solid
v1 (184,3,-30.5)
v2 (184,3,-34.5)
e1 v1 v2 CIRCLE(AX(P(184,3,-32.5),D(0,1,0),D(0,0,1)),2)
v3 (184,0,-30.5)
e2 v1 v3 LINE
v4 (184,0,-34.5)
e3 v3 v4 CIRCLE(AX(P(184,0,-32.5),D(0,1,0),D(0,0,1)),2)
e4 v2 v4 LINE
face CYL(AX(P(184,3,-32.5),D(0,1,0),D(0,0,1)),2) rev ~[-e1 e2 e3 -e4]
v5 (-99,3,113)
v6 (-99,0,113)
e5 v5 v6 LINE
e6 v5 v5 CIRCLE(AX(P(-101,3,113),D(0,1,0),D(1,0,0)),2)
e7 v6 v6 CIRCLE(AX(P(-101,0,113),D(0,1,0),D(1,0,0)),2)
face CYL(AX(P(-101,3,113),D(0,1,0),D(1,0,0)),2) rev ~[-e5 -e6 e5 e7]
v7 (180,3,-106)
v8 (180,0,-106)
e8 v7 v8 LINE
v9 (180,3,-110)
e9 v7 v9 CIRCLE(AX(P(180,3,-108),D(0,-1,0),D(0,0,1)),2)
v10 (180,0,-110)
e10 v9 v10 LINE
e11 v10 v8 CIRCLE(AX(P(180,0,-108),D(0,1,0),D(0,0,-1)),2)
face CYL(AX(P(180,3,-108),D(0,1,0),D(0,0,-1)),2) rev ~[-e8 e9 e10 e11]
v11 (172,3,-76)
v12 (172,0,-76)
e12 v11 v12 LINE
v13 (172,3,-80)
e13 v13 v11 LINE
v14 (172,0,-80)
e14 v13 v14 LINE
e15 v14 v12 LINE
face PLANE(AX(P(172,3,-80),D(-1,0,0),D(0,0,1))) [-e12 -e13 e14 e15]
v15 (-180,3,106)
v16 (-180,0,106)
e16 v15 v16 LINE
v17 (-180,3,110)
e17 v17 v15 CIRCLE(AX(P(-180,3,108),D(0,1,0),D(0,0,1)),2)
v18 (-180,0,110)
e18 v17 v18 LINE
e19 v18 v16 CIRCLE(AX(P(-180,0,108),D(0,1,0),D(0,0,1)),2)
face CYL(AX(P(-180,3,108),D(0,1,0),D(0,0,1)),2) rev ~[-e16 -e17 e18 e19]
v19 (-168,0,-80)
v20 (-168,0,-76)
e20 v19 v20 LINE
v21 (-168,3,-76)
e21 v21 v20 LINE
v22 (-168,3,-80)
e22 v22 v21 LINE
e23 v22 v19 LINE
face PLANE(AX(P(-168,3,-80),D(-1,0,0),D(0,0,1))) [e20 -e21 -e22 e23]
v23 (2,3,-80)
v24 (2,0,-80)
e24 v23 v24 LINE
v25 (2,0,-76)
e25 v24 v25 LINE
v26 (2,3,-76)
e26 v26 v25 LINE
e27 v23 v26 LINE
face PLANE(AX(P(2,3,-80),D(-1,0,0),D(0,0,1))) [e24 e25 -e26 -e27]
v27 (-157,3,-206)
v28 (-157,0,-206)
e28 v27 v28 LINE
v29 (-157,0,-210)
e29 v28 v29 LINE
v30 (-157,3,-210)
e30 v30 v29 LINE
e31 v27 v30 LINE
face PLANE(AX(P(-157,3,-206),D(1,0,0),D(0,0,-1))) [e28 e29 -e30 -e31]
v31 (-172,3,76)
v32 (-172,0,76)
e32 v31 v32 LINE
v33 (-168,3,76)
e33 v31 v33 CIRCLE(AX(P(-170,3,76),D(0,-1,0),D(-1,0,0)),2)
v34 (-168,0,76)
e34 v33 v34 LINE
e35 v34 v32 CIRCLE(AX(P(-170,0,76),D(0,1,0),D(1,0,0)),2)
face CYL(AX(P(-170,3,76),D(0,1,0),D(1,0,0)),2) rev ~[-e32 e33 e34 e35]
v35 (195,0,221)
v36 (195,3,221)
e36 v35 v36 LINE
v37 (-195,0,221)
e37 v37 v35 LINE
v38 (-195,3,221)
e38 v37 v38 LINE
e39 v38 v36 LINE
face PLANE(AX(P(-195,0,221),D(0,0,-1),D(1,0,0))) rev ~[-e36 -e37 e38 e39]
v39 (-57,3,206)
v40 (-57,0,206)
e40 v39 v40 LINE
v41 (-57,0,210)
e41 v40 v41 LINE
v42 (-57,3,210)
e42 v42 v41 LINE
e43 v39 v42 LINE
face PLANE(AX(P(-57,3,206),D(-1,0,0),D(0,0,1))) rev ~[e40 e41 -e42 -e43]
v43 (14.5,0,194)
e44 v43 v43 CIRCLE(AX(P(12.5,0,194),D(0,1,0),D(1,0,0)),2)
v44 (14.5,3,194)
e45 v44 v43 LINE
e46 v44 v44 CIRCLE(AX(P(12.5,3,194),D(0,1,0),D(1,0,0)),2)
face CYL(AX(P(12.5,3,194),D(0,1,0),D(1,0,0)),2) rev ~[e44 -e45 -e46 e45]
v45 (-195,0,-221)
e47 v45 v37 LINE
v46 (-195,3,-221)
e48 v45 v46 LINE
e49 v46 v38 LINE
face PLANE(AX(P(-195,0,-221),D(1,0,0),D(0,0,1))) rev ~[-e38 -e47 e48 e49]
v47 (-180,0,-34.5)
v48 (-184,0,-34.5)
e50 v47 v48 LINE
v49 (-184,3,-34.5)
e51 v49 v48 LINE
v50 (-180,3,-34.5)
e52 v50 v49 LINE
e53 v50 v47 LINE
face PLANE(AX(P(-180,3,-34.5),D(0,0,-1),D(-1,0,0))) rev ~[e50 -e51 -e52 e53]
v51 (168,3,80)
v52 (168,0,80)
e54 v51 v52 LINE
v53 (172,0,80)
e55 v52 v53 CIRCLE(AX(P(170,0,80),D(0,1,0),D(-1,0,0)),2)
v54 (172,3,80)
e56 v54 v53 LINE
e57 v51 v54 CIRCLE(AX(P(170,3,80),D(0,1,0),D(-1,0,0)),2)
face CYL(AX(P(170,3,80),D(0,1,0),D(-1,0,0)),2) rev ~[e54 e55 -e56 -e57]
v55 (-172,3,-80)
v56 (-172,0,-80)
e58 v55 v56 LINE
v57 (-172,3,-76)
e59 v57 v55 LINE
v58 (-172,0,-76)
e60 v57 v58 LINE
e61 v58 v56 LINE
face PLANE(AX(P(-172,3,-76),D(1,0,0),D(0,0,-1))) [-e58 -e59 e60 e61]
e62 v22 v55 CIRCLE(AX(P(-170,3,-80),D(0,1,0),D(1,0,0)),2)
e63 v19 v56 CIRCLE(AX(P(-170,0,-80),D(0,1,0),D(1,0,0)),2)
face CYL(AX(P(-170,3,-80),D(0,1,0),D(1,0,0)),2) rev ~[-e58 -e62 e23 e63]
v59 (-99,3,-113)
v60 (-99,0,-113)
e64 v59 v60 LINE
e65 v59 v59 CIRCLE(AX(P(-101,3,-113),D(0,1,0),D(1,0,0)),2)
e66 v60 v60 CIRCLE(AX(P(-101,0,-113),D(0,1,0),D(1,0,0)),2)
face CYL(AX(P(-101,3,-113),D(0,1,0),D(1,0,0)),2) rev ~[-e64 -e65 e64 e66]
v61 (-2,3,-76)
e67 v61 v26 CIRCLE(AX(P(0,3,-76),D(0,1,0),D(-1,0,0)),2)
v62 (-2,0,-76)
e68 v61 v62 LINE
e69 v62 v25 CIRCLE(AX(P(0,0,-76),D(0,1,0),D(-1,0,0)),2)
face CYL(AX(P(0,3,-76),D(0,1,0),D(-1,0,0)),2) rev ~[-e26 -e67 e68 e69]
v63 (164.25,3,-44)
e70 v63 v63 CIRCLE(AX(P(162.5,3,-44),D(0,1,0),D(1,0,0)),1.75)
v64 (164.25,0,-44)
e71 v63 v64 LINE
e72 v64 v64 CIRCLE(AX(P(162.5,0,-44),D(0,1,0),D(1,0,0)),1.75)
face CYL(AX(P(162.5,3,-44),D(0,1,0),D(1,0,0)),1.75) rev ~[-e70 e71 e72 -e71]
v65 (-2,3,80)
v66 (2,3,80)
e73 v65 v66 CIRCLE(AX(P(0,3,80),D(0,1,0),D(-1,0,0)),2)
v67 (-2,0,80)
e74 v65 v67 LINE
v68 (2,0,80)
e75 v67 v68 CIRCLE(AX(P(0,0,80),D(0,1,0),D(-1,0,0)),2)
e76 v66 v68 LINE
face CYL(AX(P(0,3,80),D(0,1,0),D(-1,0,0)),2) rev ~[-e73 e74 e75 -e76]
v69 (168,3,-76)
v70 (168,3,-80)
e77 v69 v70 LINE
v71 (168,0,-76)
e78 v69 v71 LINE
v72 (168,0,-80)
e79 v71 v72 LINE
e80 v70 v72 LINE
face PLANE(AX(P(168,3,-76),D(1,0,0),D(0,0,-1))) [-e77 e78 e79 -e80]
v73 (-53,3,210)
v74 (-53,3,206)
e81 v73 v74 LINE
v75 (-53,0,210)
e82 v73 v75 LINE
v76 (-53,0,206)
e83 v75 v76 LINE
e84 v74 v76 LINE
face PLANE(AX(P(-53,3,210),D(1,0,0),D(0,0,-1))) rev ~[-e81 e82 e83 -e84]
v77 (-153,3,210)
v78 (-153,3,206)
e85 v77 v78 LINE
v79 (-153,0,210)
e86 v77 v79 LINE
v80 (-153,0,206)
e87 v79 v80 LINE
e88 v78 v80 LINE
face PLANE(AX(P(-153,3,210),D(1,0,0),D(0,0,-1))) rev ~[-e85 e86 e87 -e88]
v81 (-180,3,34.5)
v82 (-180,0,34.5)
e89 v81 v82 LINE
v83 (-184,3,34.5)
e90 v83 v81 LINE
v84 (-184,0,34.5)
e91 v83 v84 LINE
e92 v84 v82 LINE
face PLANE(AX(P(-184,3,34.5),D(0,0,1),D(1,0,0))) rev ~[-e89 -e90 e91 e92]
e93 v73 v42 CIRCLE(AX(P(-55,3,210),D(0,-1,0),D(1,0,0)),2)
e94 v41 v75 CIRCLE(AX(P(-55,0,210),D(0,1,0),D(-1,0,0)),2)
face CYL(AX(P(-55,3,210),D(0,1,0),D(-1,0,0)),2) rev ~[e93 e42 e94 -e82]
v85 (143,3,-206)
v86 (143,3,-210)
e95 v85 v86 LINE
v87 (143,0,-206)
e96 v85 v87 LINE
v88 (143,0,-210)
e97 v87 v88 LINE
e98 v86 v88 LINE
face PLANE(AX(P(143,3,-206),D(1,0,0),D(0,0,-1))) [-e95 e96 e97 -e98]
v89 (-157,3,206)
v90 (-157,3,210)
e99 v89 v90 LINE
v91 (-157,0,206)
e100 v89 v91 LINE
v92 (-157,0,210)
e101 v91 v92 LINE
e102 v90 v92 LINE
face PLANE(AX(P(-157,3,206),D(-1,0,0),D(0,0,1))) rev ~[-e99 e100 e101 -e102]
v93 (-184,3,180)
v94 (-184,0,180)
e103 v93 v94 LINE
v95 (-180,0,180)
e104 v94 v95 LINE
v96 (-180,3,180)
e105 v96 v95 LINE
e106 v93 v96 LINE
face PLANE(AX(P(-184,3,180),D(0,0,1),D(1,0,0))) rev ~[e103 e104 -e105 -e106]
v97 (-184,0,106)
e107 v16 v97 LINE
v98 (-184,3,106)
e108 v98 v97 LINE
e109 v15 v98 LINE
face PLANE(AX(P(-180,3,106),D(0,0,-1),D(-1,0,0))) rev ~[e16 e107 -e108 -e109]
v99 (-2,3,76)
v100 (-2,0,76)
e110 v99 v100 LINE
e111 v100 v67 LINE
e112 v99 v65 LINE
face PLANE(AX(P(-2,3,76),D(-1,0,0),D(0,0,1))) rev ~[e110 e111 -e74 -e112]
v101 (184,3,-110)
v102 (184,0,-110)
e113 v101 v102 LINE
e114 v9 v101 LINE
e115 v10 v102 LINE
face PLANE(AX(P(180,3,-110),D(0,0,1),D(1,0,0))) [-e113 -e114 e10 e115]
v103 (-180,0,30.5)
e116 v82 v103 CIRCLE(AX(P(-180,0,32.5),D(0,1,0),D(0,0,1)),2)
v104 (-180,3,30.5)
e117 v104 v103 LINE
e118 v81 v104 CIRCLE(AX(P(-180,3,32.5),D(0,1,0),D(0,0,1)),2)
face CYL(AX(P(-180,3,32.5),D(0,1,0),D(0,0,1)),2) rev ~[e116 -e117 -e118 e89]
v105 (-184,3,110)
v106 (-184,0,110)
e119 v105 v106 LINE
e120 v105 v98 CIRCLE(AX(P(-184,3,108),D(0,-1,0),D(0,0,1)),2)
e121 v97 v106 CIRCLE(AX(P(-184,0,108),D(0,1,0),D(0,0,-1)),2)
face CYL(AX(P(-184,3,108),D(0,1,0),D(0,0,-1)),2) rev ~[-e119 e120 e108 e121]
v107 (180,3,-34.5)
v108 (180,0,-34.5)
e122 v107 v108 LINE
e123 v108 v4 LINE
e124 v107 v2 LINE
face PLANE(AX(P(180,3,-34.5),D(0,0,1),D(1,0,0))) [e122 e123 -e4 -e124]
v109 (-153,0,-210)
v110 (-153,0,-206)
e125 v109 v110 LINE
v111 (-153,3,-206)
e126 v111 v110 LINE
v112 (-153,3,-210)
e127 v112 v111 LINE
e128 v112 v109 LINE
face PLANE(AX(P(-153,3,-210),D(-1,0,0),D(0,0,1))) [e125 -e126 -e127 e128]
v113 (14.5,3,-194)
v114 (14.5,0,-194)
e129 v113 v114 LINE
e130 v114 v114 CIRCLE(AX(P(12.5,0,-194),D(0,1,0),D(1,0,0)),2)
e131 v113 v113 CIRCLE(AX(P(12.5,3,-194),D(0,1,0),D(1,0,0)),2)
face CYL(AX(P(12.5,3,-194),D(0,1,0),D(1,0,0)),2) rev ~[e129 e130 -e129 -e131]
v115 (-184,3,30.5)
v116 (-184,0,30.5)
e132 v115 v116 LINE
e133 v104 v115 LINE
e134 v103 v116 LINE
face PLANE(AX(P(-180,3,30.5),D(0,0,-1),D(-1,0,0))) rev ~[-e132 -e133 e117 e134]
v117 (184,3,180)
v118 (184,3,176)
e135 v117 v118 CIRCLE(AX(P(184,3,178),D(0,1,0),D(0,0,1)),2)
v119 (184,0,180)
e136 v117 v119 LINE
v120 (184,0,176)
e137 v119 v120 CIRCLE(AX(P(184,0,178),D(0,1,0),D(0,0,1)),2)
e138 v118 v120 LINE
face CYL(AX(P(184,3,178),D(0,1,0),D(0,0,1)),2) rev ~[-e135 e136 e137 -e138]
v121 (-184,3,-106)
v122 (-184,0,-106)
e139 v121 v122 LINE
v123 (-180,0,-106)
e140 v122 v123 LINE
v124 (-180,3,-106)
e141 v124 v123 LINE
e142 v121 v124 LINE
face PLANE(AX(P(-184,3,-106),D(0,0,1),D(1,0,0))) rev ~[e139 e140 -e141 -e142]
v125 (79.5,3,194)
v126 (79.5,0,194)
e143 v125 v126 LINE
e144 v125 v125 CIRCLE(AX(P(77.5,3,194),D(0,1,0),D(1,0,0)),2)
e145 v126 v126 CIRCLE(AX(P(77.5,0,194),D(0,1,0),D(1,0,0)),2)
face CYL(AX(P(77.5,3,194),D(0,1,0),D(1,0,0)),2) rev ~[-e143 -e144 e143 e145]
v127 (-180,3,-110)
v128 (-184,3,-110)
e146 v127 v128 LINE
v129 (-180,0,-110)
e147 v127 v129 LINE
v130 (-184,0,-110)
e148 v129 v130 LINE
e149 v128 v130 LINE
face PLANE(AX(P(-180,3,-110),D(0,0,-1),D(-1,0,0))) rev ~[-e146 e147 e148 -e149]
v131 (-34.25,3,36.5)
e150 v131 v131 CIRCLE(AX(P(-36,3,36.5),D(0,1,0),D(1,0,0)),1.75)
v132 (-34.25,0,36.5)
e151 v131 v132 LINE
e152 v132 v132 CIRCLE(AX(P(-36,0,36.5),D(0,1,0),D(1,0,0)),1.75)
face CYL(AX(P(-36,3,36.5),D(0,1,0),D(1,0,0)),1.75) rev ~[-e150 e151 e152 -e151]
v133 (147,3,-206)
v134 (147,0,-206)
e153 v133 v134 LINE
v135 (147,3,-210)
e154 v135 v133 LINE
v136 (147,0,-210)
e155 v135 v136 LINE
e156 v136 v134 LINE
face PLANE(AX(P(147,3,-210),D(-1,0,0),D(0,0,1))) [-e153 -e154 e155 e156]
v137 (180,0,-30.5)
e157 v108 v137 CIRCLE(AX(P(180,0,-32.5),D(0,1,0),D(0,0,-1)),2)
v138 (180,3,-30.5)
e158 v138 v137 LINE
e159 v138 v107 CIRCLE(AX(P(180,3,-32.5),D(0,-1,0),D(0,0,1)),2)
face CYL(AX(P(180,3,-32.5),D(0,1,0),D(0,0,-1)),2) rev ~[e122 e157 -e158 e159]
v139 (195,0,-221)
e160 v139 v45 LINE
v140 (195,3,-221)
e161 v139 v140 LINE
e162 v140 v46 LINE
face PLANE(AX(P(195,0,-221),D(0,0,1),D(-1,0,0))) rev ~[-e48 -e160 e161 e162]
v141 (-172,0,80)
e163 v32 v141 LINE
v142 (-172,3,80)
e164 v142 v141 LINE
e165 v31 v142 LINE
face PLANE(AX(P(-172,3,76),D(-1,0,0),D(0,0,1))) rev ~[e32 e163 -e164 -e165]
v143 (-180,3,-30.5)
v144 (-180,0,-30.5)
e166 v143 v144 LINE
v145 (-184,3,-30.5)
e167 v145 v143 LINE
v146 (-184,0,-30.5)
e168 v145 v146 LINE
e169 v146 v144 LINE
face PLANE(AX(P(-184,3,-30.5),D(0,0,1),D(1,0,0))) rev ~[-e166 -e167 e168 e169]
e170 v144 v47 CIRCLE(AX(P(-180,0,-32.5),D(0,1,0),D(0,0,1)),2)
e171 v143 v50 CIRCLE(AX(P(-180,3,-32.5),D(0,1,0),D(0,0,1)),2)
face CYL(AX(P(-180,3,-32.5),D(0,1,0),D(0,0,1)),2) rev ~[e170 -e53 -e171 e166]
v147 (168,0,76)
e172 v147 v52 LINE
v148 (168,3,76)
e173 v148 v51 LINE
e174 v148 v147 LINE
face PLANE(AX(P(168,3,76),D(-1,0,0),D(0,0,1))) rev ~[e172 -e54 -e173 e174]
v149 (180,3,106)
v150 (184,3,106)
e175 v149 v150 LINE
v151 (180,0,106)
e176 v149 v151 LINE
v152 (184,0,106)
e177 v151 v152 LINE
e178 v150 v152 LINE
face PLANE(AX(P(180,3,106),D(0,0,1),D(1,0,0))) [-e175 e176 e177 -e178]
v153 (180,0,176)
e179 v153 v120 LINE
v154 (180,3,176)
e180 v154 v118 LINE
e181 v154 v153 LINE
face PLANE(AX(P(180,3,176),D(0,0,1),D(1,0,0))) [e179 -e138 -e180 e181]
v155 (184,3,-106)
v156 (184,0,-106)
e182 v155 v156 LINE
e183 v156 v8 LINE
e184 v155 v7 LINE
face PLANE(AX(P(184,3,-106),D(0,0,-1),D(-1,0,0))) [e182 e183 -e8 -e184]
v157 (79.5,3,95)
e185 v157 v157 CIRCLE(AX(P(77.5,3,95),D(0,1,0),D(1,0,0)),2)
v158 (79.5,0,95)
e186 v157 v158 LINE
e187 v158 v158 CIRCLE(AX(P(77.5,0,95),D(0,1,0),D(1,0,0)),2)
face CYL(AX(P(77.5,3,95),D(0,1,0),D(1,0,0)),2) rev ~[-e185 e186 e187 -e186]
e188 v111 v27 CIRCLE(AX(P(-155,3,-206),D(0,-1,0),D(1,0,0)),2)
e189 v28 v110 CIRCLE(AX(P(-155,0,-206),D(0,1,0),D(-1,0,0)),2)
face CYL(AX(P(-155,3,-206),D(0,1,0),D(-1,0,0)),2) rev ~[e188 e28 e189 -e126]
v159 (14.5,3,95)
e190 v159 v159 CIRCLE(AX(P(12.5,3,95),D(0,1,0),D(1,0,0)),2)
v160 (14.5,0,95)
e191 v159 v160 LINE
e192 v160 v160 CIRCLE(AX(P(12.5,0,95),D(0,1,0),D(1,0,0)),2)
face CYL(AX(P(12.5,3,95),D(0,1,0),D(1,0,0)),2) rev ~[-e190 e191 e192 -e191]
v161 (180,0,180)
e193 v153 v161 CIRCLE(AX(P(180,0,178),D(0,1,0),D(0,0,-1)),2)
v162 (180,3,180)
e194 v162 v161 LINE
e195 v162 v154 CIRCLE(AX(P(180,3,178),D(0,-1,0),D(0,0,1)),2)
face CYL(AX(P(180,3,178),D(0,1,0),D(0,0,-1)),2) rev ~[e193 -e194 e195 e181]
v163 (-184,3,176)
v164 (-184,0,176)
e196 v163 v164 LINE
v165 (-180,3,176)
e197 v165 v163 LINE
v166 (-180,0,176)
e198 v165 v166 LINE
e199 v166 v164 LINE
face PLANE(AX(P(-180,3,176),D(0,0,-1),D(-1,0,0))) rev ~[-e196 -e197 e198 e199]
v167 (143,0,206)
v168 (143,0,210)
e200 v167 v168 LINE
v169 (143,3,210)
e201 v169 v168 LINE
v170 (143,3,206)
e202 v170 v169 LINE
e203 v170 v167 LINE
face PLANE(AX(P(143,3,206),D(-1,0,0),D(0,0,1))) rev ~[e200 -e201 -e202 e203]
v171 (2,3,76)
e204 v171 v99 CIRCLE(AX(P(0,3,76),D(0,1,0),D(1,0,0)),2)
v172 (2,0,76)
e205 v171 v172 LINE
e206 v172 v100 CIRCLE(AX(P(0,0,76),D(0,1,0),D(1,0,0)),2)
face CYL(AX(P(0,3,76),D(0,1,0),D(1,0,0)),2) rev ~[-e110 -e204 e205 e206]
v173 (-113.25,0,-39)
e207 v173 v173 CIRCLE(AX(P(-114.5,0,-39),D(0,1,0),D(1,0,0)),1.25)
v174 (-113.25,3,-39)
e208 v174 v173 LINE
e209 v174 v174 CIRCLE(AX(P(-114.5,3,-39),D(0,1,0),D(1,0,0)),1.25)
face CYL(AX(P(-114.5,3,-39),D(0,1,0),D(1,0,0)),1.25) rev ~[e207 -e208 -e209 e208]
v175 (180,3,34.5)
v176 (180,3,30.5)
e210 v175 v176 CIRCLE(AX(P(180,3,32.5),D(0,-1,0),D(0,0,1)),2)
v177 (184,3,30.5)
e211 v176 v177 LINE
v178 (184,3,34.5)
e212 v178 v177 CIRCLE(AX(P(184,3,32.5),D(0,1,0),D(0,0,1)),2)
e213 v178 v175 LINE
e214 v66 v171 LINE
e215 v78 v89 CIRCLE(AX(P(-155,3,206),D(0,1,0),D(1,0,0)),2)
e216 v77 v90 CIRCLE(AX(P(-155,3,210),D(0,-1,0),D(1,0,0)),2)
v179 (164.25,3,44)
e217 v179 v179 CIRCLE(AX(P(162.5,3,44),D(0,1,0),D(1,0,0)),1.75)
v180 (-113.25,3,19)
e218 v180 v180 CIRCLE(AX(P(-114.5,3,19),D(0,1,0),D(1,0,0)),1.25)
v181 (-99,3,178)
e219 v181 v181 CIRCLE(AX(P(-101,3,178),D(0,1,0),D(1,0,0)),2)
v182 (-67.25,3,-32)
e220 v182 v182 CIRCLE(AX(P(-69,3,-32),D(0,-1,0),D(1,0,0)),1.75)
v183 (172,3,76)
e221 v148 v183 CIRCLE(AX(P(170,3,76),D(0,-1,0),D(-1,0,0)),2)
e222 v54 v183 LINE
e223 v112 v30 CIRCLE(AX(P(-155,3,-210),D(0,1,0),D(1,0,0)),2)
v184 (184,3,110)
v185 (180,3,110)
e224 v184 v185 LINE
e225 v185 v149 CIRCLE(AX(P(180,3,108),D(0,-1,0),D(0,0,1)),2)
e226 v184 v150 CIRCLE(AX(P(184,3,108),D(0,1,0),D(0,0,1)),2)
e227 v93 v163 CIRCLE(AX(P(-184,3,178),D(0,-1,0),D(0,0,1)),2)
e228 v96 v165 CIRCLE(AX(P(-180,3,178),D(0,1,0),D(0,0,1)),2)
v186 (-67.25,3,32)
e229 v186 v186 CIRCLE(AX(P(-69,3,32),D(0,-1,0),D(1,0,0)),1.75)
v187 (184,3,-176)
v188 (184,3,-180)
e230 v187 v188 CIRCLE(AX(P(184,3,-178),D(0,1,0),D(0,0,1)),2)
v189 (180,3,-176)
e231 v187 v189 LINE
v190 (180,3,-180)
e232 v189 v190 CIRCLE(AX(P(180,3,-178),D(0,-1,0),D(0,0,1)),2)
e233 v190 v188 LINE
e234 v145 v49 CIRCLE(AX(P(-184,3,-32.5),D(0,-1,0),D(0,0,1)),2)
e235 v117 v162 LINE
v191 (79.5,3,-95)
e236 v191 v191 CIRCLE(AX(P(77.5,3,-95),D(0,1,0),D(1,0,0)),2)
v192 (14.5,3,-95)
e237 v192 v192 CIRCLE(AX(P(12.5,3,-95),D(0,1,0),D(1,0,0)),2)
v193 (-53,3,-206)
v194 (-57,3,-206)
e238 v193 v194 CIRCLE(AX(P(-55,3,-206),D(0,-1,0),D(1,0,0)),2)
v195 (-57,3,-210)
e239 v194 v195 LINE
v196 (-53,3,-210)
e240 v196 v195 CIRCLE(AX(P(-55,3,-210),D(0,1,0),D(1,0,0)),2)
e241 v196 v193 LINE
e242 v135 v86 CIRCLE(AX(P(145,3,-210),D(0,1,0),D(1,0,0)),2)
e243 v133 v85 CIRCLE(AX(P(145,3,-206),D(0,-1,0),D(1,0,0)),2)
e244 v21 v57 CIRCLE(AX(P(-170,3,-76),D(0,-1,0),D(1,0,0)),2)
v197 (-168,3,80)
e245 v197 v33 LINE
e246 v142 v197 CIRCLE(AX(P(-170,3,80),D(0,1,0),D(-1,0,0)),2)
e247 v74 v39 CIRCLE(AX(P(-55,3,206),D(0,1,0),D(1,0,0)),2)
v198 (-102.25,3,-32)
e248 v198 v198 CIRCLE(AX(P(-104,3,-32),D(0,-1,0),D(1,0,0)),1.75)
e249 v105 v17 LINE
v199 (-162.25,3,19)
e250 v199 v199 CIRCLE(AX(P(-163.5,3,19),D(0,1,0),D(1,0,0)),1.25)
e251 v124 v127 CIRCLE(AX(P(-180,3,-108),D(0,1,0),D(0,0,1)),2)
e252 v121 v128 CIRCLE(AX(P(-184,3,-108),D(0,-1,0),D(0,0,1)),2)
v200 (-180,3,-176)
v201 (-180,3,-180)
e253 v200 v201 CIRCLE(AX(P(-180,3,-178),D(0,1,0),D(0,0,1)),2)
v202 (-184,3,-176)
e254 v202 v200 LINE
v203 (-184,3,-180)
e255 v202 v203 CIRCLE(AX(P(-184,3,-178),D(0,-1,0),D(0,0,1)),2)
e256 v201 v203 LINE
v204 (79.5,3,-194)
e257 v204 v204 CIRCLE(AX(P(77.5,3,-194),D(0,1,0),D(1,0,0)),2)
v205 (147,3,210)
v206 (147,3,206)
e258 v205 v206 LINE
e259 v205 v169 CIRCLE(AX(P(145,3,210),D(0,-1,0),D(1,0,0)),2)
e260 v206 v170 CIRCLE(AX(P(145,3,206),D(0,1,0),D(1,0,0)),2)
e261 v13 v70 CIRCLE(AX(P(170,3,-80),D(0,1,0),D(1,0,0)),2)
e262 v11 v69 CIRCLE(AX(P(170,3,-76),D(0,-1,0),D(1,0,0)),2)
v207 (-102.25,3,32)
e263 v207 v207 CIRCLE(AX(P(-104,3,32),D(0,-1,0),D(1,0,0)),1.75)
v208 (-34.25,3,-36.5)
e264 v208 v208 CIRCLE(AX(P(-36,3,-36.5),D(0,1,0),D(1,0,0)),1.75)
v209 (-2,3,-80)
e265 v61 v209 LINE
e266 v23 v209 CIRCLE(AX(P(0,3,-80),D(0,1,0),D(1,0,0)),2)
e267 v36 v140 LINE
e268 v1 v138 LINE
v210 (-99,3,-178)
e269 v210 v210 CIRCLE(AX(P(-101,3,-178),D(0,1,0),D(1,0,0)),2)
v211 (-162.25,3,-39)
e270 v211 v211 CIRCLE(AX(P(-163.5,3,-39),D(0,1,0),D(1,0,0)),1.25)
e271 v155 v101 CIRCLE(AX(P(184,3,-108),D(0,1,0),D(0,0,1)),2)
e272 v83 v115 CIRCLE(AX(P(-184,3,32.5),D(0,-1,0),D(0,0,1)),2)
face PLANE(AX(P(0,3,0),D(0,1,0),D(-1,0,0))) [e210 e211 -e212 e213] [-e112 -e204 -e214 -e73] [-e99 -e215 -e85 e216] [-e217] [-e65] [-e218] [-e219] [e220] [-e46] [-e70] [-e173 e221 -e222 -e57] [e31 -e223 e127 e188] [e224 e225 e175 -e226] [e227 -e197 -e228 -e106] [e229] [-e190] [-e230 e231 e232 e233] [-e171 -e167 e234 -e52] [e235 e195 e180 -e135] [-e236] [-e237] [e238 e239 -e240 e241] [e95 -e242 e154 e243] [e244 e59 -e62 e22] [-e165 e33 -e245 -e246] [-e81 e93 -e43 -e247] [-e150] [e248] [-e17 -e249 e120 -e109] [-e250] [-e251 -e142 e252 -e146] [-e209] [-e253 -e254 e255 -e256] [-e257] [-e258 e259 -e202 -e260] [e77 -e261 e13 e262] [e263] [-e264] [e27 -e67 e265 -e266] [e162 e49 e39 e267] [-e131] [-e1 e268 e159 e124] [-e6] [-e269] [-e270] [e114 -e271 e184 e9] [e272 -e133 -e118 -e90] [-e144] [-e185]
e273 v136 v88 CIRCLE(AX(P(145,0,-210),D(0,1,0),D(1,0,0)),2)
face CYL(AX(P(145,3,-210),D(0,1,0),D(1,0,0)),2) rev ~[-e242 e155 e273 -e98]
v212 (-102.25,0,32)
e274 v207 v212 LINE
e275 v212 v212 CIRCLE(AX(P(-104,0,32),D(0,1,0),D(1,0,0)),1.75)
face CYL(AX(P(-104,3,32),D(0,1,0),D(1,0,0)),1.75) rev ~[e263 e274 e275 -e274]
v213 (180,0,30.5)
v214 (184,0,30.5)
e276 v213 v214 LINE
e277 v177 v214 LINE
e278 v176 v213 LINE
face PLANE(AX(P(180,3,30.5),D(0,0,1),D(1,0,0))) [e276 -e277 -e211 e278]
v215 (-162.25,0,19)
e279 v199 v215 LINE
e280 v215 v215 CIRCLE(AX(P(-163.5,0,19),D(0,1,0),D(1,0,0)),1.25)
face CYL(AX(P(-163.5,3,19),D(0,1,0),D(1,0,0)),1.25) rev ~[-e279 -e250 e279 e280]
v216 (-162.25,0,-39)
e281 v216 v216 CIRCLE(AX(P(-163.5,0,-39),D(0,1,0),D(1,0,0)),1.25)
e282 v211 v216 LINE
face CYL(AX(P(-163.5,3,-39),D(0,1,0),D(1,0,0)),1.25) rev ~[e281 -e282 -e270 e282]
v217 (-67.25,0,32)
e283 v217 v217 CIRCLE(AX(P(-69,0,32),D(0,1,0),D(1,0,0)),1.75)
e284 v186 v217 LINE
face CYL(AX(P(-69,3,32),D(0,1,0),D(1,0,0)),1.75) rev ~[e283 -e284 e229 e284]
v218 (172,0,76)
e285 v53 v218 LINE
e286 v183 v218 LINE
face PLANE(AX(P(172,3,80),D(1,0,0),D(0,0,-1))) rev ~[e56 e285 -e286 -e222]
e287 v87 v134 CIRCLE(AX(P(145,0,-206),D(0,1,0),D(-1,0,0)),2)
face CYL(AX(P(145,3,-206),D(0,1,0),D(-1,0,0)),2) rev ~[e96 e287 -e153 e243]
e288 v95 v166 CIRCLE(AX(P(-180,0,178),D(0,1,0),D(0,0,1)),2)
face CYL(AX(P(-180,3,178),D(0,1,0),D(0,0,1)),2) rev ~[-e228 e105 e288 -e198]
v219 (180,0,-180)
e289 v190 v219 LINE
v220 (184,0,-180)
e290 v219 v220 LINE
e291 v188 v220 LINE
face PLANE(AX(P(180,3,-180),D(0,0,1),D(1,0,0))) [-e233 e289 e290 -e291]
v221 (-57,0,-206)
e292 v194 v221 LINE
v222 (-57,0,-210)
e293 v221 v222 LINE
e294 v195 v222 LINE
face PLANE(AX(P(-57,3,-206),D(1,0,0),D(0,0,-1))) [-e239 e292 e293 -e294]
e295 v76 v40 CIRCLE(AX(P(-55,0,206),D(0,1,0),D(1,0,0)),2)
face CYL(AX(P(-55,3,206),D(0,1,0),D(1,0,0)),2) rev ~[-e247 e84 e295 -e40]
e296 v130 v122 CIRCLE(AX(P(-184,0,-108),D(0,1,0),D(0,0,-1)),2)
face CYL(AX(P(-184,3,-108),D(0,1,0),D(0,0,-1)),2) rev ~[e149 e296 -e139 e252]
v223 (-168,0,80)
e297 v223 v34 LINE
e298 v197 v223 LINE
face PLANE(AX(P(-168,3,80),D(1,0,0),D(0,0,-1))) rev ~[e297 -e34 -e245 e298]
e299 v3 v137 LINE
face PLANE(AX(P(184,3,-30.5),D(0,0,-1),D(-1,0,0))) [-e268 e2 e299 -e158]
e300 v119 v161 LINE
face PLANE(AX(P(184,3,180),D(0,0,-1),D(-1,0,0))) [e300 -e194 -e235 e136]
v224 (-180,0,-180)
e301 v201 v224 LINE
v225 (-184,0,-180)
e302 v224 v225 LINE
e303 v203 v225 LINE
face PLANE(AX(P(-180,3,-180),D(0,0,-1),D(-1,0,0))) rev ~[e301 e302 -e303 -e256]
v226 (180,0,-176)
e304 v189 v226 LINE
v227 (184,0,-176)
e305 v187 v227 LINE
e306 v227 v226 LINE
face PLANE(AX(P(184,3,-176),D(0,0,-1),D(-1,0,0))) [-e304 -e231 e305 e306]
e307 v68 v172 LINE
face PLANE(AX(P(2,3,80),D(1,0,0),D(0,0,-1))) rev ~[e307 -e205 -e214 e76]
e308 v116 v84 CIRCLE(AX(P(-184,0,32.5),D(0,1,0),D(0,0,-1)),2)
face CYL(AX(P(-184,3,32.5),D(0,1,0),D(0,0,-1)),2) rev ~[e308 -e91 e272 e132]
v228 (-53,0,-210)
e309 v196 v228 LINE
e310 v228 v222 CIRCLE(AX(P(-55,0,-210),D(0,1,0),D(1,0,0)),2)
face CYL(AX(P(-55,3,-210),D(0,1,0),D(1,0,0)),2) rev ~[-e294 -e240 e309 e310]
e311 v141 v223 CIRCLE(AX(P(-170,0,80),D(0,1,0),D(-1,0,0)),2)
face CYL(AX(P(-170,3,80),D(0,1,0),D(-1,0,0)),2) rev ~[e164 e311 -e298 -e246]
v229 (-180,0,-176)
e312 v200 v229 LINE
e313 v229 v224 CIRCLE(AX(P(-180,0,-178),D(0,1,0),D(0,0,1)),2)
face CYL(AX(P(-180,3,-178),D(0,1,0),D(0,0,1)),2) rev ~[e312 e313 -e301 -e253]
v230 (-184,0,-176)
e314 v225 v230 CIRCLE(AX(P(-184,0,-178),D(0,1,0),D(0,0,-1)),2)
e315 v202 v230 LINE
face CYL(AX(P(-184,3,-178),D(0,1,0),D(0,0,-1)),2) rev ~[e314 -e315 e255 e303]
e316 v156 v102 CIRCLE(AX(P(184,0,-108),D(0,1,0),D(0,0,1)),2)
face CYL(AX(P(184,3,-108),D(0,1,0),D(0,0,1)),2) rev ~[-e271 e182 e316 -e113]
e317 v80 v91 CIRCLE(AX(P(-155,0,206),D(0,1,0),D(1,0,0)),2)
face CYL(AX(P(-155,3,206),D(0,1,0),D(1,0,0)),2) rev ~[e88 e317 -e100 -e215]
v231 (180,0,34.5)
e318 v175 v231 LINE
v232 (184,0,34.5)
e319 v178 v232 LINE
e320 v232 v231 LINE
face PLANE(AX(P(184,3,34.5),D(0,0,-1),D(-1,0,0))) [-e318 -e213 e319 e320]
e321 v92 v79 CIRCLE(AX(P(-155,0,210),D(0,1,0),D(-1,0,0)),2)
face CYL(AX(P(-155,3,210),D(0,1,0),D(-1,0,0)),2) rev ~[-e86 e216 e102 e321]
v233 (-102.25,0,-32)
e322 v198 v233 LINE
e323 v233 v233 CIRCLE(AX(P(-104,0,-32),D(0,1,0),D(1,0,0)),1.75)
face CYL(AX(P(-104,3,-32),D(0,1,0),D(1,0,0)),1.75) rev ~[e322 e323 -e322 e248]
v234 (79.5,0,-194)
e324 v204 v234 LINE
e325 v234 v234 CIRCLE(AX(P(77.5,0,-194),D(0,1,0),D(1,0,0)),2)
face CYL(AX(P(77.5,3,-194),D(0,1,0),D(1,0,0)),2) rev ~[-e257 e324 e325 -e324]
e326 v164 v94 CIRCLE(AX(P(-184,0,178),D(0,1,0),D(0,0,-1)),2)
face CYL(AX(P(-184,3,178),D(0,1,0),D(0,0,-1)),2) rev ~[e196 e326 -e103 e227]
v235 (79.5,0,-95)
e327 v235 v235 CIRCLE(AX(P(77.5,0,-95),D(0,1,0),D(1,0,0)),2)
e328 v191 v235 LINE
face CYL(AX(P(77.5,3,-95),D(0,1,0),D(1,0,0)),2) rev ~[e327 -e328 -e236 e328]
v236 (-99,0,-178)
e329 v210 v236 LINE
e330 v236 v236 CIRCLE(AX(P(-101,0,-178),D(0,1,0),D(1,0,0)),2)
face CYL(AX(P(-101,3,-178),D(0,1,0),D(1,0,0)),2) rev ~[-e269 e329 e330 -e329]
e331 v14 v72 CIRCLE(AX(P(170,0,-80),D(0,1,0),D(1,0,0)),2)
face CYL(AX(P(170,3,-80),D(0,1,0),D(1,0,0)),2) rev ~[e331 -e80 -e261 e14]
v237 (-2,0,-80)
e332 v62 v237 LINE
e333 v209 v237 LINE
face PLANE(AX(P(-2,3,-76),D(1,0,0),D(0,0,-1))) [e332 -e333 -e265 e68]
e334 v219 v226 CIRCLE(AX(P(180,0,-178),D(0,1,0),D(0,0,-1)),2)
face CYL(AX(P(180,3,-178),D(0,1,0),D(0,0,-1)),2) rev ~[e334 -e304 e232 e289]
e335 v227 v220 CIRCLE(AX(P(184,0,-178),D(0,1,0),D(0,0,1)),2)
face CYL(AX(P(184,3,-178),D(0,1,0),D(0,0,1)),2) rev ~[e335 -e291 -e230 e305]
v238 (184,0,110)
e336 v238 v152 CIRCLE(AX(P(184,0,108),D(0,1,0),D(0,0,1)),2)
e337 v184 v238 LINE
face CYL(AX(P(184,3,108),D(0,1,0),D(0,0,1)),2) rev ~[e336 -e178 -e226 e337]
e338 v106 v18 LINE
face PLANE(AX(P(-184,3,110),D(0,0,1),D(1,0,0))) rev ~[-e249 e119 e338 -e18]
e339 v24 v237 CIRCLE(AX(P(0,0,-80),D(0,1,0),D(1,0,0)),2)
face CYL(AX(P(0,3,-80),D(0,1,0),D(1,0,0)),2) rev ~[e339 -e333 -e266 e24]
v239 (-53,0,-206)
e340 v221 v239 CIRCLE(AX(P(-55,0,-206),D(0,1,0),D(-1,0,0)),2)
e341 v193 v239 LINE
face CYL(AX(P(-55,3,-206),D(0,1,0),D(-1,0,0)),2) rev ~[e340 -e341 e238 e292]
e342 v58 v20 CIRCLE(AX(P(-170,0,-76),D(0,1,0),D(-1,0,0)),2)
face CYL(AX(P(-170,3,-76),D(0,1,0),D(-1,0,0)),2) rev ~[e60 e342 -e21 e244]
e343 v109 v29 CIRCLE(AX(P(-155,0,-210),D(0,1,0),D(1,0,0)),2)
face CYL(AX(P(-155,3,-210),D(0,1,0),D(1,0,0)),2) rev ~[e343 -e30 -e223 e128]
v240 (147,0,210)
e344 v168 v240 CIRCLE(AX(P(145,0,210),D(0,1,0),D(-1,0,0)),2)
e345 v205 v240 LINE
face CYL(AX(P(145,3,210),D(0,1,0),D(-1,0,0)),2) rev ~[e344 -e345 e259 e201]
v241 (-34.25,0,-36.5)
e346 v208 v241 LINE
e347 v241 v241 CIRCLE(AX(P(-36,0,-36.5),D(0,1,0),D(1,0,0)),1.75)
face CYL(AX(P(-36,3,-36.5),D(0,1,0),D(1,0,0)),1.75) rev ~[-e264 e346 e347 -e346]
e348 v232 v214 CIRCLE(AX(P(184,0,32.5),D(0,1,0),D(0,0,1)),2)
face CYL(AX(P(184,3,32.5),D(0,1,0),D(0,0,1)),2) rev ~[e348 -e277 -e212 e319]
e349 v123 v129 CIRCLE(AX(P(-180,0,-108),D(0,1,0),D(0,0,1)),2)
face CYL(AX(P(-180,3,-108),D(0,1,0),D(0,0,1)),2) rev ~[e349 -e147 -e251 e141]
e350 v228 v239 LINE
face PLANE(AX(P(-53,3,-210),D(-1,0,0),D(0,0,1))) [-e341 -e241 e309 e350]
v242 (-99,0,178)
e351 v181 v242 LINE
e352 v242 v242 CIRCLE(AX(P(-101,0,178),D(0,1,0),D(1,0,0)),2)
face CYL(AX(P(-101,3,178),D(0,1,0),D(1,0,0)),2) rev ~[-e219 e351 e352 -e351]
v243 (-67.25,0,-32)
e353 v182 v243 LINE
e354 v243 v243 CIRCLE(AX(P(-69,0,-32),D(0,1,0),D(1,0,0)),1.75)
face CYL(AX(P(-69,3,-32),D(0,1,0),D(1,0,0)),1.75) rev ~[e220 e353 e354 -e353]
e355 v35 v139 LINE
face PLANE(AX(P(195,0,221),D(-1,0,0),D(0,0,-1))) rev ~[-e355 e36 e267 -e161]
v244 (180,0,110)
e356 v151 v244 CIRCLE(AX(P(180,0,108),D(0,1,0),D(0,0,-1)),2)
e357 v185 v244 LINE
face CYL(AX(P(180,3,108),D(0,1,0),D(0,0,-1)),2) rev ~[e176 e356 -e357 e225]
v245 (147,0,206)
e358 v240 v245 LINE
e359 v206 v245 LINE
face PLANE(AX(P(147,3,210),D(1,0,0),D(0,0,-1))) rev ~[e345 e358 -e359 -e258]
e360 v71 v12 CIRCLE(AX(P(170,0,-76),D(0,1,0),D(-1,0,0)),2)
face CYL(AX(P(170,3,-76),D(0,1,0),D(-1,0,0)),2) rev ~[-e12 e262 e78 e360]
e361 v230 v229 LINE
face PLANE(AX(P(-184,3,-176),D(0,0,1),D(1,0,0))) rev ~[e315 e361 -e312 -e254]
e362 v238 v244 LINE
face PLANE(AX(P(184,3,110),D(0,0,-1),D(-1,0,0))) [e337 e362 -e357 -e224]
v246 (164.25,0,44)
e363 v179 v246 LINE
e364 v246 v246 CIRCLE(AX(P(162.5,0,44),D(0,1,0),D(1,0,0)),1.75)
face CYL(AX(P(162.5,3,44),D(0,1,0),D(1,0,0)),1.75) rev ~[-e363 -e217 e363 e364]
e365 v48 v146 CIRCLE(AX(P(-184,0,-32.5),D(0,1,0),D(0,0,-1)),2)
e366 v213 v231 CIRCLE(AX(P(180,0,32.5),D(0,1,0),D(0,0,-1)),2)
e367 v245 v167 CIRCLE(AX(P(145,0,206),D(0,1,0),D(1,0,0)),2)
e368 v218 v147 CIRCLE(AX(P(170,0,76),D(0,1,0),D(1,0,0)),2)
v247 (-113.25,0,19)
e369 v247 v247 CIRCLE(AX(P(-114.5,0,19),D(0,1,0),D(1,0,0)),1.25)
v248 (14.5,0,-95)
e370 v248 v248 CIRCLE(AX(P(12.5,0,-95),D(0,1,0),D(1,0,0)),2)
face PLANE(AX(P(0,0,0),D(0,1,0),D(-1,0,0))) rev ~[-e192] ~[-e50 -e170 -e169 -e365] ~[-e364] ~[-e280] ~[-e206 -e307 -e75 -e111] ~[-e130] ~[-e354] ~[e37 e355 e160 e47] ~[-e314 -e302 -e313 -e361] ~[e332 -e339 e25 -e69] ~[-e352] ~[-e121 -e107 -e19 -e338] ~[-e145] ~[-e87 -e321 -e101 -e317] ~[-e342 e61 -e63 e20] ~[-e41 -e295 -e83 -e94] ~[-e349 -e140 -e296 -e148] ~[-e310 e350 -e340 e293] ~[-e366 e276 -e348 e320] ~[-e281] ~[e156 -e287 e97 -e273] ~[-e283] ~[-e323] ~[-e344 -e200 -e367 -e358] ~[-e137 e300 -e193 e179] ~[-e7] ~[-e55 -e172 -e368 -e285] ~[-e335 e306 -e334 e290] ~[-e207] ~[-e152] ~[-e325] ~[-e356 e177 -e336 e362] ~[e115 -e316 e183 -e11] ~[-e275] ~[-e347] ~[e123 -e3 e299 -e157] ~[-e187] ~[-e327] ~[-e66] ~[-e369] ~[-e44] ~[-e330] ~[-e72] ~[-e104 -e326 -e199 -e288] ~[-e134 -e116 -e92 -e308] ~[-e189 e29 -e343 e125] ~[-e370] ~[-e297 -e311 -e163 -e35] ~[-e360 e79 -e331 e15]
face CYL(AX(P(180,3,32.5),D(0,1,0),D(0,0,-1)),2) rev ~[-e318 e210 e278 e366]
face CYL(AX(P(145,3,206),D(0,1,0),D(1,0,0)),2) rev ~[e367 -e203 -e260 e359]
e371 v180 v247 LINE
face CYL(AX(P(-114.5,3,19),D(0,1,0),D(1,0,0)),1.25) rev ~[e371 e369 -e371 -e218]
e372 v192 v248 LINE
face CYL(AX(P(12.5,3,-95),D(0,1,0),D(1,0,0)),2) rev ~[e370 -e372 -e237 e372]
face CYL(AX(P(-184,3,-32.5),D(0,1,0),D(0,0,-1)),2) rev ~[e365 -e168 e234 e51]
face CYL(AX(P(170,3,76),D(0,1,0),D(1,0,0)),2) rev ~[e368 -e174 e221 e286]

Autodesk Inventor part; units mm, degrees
ref_plane "YZ Plane" through (0, 0, 0) normal (1, 0, 0) x (0, 1, 0)
ref_plane "XZ Plane" through (0, 0, 0) normal (0, 1, 0) x (-1, 0, 0)
ref_plane "XY Plane" through (0, 0, 0) normal (0, 0, 1) x (1, 0, 0)
sketch "스케치1" plane through (0, 0, 0) normal (0, 1, 0) x (-1, 0, 0)
  line L0 (195, 221) -> (-195, 221)
  line L1 (-195, 221) -> (-195, -221)
  line L2 (-195, -221) -> (195, -221)
  line L3 (195, -221) -> (195, 221)
  line L4 (195, 221) -> (-195, -221) construction
  line L5 (-195, 221) -> (195, -221) construction
  point P0 (0, 0)
  dimension "d0" = 390
  dimension "d1" = 442
extrude "돌출1" add sketch "스케치1" along normal blind 3
sketch "스케치4" plane through (0, 3, 0) normal (0, 1, 0) x (1, 0, 0)
  point P0 (0, 0)
sketch "스케치6" plane through (0, 3, 0) normal (0, 1, 0) x (1, 0, 0)
  line L0 (-303.9011, -178) -> (268.2048, -178)
  line L1 (-303.9011, 178) -> (283.641, 178)
  line L2 (-303.9011, 108) -> (283.641, 108)
  line L3 (-303.9011, -108) -> (268.2048, -108)
  line L4 (-155, -274.9581) -> (-155, 335.7384)
  line L5 (-55, -274.9581) -> (-55, 335.7384)
  line L6 (145, -274.9581) -> (145, 335.7384)
  line L7 (195, -221) -> (195, 221) projected
  line L8 (-195, 221) -> (-195, -221) projected
  line L9 (-195, -221) -> (195, -221) projected
  line L10 (195, 221) -> (-195, 221) projected
  line L11 (0, -22.8976) -> (0, 39.0777)
  line L12 (-29.975, 0) -> (33.4089, 0)
  line L13 (-184, 178) -> (-180, 178) construction
  line L14 (-184, 176) -> (-180, 176)
  line L15 (-180, 180) -> (-184, 180)
  arc A0 (-184, 180) -> (-184, 176) centre (-184, 178) ccw
  arc A1 (-180, 176) -> (-180, 180) centre (-180, 178) ccw
  line L16 (-184, 108) -> (-180, 108) construction
  line L17 (-184, 106) -> (-180, 106)
  line L18 (-180, 110) -> (-184, 110)
  arc A2 (-184, 110) -> (-184, 106) centre (-184, 108) ccw
  arc A3 (-180, 106) -> (-180, 110) centre (-180, 108) ccw
  line L19 (-184, -108) -> (-180, -108) construction
  line L20 (-184, -110) -> (-180, -110)
  line L21 (-180, -106) -> (-184, -106)
  arc A4 (-184, -106) -> (-184, -110) centre (-184, -108) ccw
  arc A5 (-180, -110) -> (-180, -106) centre (-180, -108) ccw
  line L22 (-184, -178) -> (-180, -178) construction
  line L23 (-184, -180) -> (-180, -180)
  line L24 (-180, -176) -> (-184, -176)
  arc A6 (-184, -176) -> (-184, -180) centre (-184, -178) ccw
  arc A7 (-180, -180) -> (-180, -176) centre (-180, -178) ccw
  line L25 (303.9011, -178) -> (-268.2048, -178)
  line L26 (303.9011, 178) -> (-283.641, 178)
  line L27 (303.9011, 108) -> (-283.641, 108)
  line L28 (303.9011, -108) -> (-268.2048, -108)
  line L29 (184, 178) -> (180, 178) construction
  line L30 (184, 176) -> (180, 176)
  line L31 (180, 180) -> (184, 180)
  arc A8 (184, 176) -> (184, 180) centre (184, 178) ccw
  arc A9 (180, 180) -> (180, 176) centre (180, 178) ccw
  line L32 (184, 108) -> (180, 108) construction
  line L33 (184, 106) -> (180, 106)
  line L34 (180, 110) -> (184, 110)
  arc A10 (184, 106) -> (184, 110) centre (184, 108) ccw
  arc A11 (180, 110) -> (180, 106) centre (180, 108) ccw
  line L35 (184, -108) -> (180, -108) construction
  line L36 (184, -110) -> (180, -110)
  line L37 (180, -106) -> (184, -106)
  arc A12 (184, -110) -> (184, -106) centre (184, -108) ccw
  arc A13 (180, -106) -> (180, -110) centre (180, -108) ccw
  line L38 (184, -178) -> (180, -178) construction
  line L39 (184, -180) -> (180, -180)
  line L40 (180, -176) -> (184, -176)
  arc A14 (184, -180) -> (184, -176) centre (184, -178) ccw
  arc A15 (180, -176) -> (180, -180) centre (180, -178) ccw
  line L41 (-155, -210) -> (-155, -206) construction
  line L42 (-153, -210) -> (-153, -206)
  line L43 (-157, -206) -> (-157, -210)
  arc A16 (-157, -210) -> (-153, -210) centre (-155, -210) ccw
  arc A17 (-153, -206) -> (-157, -206) centre (-155, -206) ccw
  line L44 (-55, -210) -> (-55, -206) construction
  line L45 (-53, -210) -> (-53, -206)
  line L46 (-57, -206) -> (-57, -210)
  arc A18 (-57, -210) -> (-53, -210) centre (-55, -210) ccw
  arc A19 (-53, -206) -> (-57, -206) centre (-55, -206) ccw
  line L47 (145, -210) -> (145, -206) construction
  line L48 (147, -210) -> (147, -206)
  line L49 (143, -206) -> (143, -210)
  arc A20 (143, -210) -> (147, -210) centre (145, -210) ccw
  arc A21 (147, -206) -> (143, -206) centre (145, -206) ccw
  line L50 (-155, 210) -> (-155, 206) construction
  line L51 (-153, 210) -> (-153, 206)
  line L52 (-157, 206) -> (-157, 210)
  arc A22 (-153, 210) -> (-157, 210) centre (-155, 210) ccw
  arc A23 (-157, 206) -> (-153, 206) centre (-155, 206) ccw
  line L53 (-55, 210) -> (-55, 206) construction
  line L54 (-53, 210) -> (-53, 206)
  line L55 (-57, 206) -> (-57, 210)
  arc A24 (-53, 210) -> (-57, 210) centre (-55, 210) ccw
  arc A25 (-57, 206) -> (-53, 206) centre (-55, 206) ccw
  line L56 (145, 210) -> (145, 206) construction
  line L57 (147, 210) -> (147, 206)
  line L58 (143, 206) -> (143, 210)
  arc A26 (147, 210) -> (143, 210) centre (145, 210) ccw
  arc A27 (143, 206) -> (147, 206) centre (145, 206) ccw
  line L59 (-273.1741, -32.5) -> (240.0899, -32.5)
  line L60 (-257.0626, 32.5) -> (240.0899, 32.5)
  line L61 (-184, -32.5) -> (-180, -32.5) construction
  line L62 (-184, -34.5) -> (-180, -34.5)
  line L63 (-180, -30.5) -> (-184, -30.5)
  arc A28 (-184, -30.5) -> (-184, -34.5) centre (-184, -32.5) ccw
  arc A29 (-180, -34.5) -> (-180, -30.5) centre (-180, -32.5) ccw
  line L64 (-184, 32.5) -> (-180, 32.5) construction
  line L65 (-184, 30.5) -> (-180, 30.5)
  line L66 (-180, 34.5) -> (-184, 34.5)
  arc A30 (-184, 34.5) -> (-184, 30.5) centre (-184, 32.5) ccw
  arc A31 (-180, 30.5) -> (-180, 34.5) centre (-180, 32.5) ccw
  line L67 (273.1741, -32.5) -> (-240.0899, -32.5)
  line L68 (257.0626, 32.5) -> (-240.0899, 32.5)
  line L69 (184, -32.5) -> (180, -32.5) construction
  line L70 (184, -34.5) -> (180, -34.5)
  line L71 (180, -30.5) -> (184, -30.5)
  arc A32 (184, -34.5) -> (184, -30.5) centre (184, -32.5) ccw
  arc A33 (180, -30.5) -> (180, -34.5) centre (180, -32.5) ccw
  line L72 (184, 32.5) -> (180, 32.5) construction
  line L73 (184, 30.5) -> (180, 30.5)
  line L74 (180, 34.5) -> (184, 34.5)
  arc A34 (184, 30.5) -> (184, 34.5) centre (184, 32.5) ccw
  arc A35 (180, 34.5) -> (180, 30.5) centre (180, 32.5) ccw
  line L75 (-289.5628, -68) -> (251.5599, -68)
  line L76 (-289.5628, 68) -> (251.5599, 68)
  line L77 (-170, -240.2082) -> (-170, 318.6302)
  line L78 (170, -254.5511) -> (170, 298.1594)
  line L79 (170, -80) -> (170, -76) construction
  line L80 (172, -80) -> (172, -76)
  line L81 (168, -76) -> (168, -80)
  arc A36 (168, -80) -> (172, -80) centre (170, -80) ccw
  arc A37 (172, -76) -> (168, -76) centre (170, -76) ccw
  line L82 (0, -80) -> (0, -76) construction
  line L83 (2, -80) -> (2, -76)
  line L84 (-2, -76) -> (-2, -80)
  arc A38 (-2, -80) -> (2, -80) centre (0, -80) ccw
  arc A39 (2, -76) -> (-2, -76) centre (0, -76) ccw
  line L85 (-170, -80) -> (-170, -76) construction
  line L86 (-168, -80) -> (-168, -76)
  line L87 (-172, -76) -> (-172, -80)
  arc A40 (-172, -80) -> (-168, -80) centre (-170, -80) ccw
  arc A41 (-168, -76) -> (-172, -76) centre (-170, -76) ccw
  line L88 (-170, 240.2082) -> (-170, -318.6302)
  line L89 (170, 254.5511) -> (170, -298.1594)
  line L90 (170, 80) -> (170, 76) construction
  line L91 (172, 80) -> (172, 76)
  line L92 (168, 76) -> (168, 80)
  arc A42 (172, 80) -> (168, 80) centre (170, 80) ccw
  arc A43 (168, 76) -> (172, 76) centre (170, 76) ccw
  line L93 (0, 80) -> (0, 76) construction
  line L94 (2, 80) -> (2, 76)
  line L95 (-2, 76) -> (-2, 80)
  arc A44 (2, 80) -> (-2, 80) centre (0, 80) ccw
  arc A45 (-2, 76) -> (2, 76) centre (0, 76) ccw
  line L96 (-170, 80) -> (-170, 76) construction
  line L97 (-168, 80) -> (-168, 76)
  line L98 (-172, 76) -> (-172, 80)
  arc A46 (-168, 80) -> (-172, 80) centre (-170, 80) ccw
  arc A47 (-172, 76) -> (-168, 76) centre (-170, 76) ccw
  circle A48 centre (-114.5, 39) radius 1.25
  circle A49 centre (-114.5, -19) radius 1.25
  circle A50 centre (-163.5, -19) radius 1.25
  circle A51 centre (-163.5, 39) radius 1.25
  circle A52 centre (-104, 32) radius 1.75
  circle A53 centre (-69, -32) radius 1.75
  circle A54 centre (-104, -32) radius 1.75
  circle A55 centre (-69, 32) radius 1.75
  circle A56 centre (-36, 36.5) radius 1.75
  circle A57 centre (-36, -36.5) radius 1.75
  circle A58 centre (162.5, -44) radius 1.75
  circle A59 centre (162.5, 44) radius 1.75
  point P0 (-182, 178)
  point P1 (-182, 108)
  point P2 (-182, -108)
  point P3 (-182, -178)
  point P4 (182, 178)
  point P5 (182, 108)
  point P6 (182, -108)
  point P7 (182, -178)
  point P8 (-155, -208)
  point P9 (-55, -208)
  point P10 (145, -208)
  point P11 (-155, 208)
  point P12 (-55, 208)
  point P13 (145, 208)
  point P14 (-182, -32.5)
  point P15 (-182, 32.5)
  point P16 (182, -32.5)
  point P17 (182, 32.5)
  point P18 (170, -78)
  point P19 (0, -78)
  point P20 (-170, -78)
  point P21 (170, 78)
  point P22 (0, 78)
  point P23 (-170, 78)
  dimension "d35" = 50
  dimension "d36" = 40
  dimension "d37" = 43
  dimension "d38" = 113
  dimension "d39" = 43
  dimension "d40" = 113
  dimension "d41" = 100
  dimension "d42" = 4
  dimension "d43" = 4
  dimension "d44" = 13
  dimension "d45" = 4
  dimension "d46" = 13
  dimension "d47" = 4
  dimension "d48" = 4
  dimension "d49" = 13
  dimension "d50" = 4
  dimension "d51" = 4
  dimension "d52" = 13
  dimension "d53" = 4
  dimension "d54" = 4
  dimension "d55" = 4
  dimension "d56" = 4
  dimension "d57" = 4
  dimension "d58" = 4
  dimension "d59" = 13
  dimension "d60" = 13
  dimension "d61" = 13
  dimension "d62" = 188.5
  dimension "d63" = 65
  dimension "d64" = 4
  dimension "d65" = 4
  dimension "d66" = 4
  dimension "d67" = 4
  dimension "d68" = 13
  dimension "d69" = 13
  dimension "d70" = 153
  dimension "d71" = 153
  dimension "d72" = 25
  dimension "d73" = 25
  dimension "d74" = 4
  dimension "d75" = 4
  dimension "d76" = 10
  dimension "d77" = 4
  dimension "d78" = 4
  dimension "d79" = 10
  dimension "d80" = 4
  dimension "d81" = 4
  dimension "d82" = 10
  dimension "d83" = 4
  dimension "d84" = 2.5
  dimension "d85" = 2.5
  dimension "d86" = 2.5
  dimension "d87" = 2.5
  dimension "d88" = 202
  dimension "d89" = 31.5
  dimension "d90" = 31.5
  dimension "d91" = 58
  dimension "d92" = 49
  dimension "d93" = 58
  dimension "d94" = 0
  dimension "d95" = 0
  dimension "d96" = 3.5
  dimension "d97" = 3.5
  dimension "d98" = 3.5
extrude "돌출3" cut sketch "스케치6" against normal blind 10 contours A6 L24 A7 L0 | L0 A7 L23 A6 | A4 L21 A5 L3 | L3 A5 L20 A4 | A28 L63 A29 L59 | L59 A29 L62 A28 | A41 L86 A40 L77 | L77 A40 L87 A41 | A16 L43 A17 L4 | L4 A17 L42 A16 | A30 L66 A31 L60 | L60 A31 L65 A30 | A18 L46 A19 L5 | L5 A19 L45 A18 | A54 L59 | L59 A54 | A20 L49 A21 L6 | L6 A21 L48 A20 | A2 L18 A3 L2 | L2 A3 L17 A2 | A47 L98 A46 L77 | L77 A46 L97 A47 | A52 L60 | L60 A52 | A53 L59 | L59 A53 | A15 L40 A14 L0 | L0 A14 L39 A15 | A0 L15 A1 L1 | L1 A1 L14 A0 | A55 L60 | L60 A55 | A37 L80 A36 L78 | L78 A36 L81 A37 | A13 L37 A12 L3 | L3 A12 L36 A13 | A33 L71 A32 L59 | L59 A32 L70 A33 | A23 L52 A22 L4 | L4 A22 L51 A23 | A35 L74 A34 L60 | L60 A34 L73 A35 | A25 L55 A24 L5 | L5 A24 L54 A25 | A43 L92 A42 L78 | L78 A42 L91 A43 | A11 L34 A10 L2 | L2 A10 L33 A11 | A27 L58 A26 L6 | L6 A26 L57 A27 | A9 L31 A8 L1 | L1 A8 L30 A9 | A38 L84 A39 L83 | L94 A45 L95 A44 | A48 | A49 | A50 | A51 | A56 | A57 | A58 | A59
sketch "스케치7" plane through (0, 3, 0) normal (0, 1, 0) x (1, 0, 0)
  point P0 (0, 0)
sketch "스케치8" plane through (0, 3, 0) normal (0, 1, 0) x (1, 0, 0)
  circle A0 centre (77.5, -194) radius 2
  circle A1 centre (12.5, -194) radius 2
  circle A2 centre (12.5, -95) radius 2
  circle A3 centre (77.5, -95) radius 2
  line L0 (-195, -221) -> (195, -221) projected
  line L1 (195, -221) -> (195, 221) projected
  circle A4 centre (-101, -178) radius 2
  circle A5 centre (-101, -113) radius 2
  line L2 (-195, 221) -> (-195, -221) projected
  line L3 (25.1798, 0) -> (-29.0794, 0)
  circle A6 centre (77.5, 194) radius 2
  circle A7 centre (12.5, 194) radius 2
  circle A8 centre (12.5, 95) radius 2
  circle A9 centre (77.5, 95) radius 2
  circle A10 centre (-101, 178) radius 2
  circle A11 centre (-101, 113) radius 2
  point P0 (0, 0)
  dimension "d122" = 4
  dimension "d123" = 4
  dimension "d124" = 0
  dimension "d125" = 4
  dimension "d126" = 0
  dimension "d127" = 4
  dimension "d128" = 0
  dimension "d129" = 0
  dimension "d130" = 27
  dimension "d131" = 65
  dimension "d132" = 117.5
  dimension "d133" = 4
  dimension "d134" = 4
  dimension "d135" = 0
  dimension "d136" = 65
  dimension "d137" = 94
  dimension "d138" = 99
  dimension "d139" = 43
extrude "돌출4" cut sketch "스케치8" against normal blind 10
properties part number "발 받침대 받침_밑면"
